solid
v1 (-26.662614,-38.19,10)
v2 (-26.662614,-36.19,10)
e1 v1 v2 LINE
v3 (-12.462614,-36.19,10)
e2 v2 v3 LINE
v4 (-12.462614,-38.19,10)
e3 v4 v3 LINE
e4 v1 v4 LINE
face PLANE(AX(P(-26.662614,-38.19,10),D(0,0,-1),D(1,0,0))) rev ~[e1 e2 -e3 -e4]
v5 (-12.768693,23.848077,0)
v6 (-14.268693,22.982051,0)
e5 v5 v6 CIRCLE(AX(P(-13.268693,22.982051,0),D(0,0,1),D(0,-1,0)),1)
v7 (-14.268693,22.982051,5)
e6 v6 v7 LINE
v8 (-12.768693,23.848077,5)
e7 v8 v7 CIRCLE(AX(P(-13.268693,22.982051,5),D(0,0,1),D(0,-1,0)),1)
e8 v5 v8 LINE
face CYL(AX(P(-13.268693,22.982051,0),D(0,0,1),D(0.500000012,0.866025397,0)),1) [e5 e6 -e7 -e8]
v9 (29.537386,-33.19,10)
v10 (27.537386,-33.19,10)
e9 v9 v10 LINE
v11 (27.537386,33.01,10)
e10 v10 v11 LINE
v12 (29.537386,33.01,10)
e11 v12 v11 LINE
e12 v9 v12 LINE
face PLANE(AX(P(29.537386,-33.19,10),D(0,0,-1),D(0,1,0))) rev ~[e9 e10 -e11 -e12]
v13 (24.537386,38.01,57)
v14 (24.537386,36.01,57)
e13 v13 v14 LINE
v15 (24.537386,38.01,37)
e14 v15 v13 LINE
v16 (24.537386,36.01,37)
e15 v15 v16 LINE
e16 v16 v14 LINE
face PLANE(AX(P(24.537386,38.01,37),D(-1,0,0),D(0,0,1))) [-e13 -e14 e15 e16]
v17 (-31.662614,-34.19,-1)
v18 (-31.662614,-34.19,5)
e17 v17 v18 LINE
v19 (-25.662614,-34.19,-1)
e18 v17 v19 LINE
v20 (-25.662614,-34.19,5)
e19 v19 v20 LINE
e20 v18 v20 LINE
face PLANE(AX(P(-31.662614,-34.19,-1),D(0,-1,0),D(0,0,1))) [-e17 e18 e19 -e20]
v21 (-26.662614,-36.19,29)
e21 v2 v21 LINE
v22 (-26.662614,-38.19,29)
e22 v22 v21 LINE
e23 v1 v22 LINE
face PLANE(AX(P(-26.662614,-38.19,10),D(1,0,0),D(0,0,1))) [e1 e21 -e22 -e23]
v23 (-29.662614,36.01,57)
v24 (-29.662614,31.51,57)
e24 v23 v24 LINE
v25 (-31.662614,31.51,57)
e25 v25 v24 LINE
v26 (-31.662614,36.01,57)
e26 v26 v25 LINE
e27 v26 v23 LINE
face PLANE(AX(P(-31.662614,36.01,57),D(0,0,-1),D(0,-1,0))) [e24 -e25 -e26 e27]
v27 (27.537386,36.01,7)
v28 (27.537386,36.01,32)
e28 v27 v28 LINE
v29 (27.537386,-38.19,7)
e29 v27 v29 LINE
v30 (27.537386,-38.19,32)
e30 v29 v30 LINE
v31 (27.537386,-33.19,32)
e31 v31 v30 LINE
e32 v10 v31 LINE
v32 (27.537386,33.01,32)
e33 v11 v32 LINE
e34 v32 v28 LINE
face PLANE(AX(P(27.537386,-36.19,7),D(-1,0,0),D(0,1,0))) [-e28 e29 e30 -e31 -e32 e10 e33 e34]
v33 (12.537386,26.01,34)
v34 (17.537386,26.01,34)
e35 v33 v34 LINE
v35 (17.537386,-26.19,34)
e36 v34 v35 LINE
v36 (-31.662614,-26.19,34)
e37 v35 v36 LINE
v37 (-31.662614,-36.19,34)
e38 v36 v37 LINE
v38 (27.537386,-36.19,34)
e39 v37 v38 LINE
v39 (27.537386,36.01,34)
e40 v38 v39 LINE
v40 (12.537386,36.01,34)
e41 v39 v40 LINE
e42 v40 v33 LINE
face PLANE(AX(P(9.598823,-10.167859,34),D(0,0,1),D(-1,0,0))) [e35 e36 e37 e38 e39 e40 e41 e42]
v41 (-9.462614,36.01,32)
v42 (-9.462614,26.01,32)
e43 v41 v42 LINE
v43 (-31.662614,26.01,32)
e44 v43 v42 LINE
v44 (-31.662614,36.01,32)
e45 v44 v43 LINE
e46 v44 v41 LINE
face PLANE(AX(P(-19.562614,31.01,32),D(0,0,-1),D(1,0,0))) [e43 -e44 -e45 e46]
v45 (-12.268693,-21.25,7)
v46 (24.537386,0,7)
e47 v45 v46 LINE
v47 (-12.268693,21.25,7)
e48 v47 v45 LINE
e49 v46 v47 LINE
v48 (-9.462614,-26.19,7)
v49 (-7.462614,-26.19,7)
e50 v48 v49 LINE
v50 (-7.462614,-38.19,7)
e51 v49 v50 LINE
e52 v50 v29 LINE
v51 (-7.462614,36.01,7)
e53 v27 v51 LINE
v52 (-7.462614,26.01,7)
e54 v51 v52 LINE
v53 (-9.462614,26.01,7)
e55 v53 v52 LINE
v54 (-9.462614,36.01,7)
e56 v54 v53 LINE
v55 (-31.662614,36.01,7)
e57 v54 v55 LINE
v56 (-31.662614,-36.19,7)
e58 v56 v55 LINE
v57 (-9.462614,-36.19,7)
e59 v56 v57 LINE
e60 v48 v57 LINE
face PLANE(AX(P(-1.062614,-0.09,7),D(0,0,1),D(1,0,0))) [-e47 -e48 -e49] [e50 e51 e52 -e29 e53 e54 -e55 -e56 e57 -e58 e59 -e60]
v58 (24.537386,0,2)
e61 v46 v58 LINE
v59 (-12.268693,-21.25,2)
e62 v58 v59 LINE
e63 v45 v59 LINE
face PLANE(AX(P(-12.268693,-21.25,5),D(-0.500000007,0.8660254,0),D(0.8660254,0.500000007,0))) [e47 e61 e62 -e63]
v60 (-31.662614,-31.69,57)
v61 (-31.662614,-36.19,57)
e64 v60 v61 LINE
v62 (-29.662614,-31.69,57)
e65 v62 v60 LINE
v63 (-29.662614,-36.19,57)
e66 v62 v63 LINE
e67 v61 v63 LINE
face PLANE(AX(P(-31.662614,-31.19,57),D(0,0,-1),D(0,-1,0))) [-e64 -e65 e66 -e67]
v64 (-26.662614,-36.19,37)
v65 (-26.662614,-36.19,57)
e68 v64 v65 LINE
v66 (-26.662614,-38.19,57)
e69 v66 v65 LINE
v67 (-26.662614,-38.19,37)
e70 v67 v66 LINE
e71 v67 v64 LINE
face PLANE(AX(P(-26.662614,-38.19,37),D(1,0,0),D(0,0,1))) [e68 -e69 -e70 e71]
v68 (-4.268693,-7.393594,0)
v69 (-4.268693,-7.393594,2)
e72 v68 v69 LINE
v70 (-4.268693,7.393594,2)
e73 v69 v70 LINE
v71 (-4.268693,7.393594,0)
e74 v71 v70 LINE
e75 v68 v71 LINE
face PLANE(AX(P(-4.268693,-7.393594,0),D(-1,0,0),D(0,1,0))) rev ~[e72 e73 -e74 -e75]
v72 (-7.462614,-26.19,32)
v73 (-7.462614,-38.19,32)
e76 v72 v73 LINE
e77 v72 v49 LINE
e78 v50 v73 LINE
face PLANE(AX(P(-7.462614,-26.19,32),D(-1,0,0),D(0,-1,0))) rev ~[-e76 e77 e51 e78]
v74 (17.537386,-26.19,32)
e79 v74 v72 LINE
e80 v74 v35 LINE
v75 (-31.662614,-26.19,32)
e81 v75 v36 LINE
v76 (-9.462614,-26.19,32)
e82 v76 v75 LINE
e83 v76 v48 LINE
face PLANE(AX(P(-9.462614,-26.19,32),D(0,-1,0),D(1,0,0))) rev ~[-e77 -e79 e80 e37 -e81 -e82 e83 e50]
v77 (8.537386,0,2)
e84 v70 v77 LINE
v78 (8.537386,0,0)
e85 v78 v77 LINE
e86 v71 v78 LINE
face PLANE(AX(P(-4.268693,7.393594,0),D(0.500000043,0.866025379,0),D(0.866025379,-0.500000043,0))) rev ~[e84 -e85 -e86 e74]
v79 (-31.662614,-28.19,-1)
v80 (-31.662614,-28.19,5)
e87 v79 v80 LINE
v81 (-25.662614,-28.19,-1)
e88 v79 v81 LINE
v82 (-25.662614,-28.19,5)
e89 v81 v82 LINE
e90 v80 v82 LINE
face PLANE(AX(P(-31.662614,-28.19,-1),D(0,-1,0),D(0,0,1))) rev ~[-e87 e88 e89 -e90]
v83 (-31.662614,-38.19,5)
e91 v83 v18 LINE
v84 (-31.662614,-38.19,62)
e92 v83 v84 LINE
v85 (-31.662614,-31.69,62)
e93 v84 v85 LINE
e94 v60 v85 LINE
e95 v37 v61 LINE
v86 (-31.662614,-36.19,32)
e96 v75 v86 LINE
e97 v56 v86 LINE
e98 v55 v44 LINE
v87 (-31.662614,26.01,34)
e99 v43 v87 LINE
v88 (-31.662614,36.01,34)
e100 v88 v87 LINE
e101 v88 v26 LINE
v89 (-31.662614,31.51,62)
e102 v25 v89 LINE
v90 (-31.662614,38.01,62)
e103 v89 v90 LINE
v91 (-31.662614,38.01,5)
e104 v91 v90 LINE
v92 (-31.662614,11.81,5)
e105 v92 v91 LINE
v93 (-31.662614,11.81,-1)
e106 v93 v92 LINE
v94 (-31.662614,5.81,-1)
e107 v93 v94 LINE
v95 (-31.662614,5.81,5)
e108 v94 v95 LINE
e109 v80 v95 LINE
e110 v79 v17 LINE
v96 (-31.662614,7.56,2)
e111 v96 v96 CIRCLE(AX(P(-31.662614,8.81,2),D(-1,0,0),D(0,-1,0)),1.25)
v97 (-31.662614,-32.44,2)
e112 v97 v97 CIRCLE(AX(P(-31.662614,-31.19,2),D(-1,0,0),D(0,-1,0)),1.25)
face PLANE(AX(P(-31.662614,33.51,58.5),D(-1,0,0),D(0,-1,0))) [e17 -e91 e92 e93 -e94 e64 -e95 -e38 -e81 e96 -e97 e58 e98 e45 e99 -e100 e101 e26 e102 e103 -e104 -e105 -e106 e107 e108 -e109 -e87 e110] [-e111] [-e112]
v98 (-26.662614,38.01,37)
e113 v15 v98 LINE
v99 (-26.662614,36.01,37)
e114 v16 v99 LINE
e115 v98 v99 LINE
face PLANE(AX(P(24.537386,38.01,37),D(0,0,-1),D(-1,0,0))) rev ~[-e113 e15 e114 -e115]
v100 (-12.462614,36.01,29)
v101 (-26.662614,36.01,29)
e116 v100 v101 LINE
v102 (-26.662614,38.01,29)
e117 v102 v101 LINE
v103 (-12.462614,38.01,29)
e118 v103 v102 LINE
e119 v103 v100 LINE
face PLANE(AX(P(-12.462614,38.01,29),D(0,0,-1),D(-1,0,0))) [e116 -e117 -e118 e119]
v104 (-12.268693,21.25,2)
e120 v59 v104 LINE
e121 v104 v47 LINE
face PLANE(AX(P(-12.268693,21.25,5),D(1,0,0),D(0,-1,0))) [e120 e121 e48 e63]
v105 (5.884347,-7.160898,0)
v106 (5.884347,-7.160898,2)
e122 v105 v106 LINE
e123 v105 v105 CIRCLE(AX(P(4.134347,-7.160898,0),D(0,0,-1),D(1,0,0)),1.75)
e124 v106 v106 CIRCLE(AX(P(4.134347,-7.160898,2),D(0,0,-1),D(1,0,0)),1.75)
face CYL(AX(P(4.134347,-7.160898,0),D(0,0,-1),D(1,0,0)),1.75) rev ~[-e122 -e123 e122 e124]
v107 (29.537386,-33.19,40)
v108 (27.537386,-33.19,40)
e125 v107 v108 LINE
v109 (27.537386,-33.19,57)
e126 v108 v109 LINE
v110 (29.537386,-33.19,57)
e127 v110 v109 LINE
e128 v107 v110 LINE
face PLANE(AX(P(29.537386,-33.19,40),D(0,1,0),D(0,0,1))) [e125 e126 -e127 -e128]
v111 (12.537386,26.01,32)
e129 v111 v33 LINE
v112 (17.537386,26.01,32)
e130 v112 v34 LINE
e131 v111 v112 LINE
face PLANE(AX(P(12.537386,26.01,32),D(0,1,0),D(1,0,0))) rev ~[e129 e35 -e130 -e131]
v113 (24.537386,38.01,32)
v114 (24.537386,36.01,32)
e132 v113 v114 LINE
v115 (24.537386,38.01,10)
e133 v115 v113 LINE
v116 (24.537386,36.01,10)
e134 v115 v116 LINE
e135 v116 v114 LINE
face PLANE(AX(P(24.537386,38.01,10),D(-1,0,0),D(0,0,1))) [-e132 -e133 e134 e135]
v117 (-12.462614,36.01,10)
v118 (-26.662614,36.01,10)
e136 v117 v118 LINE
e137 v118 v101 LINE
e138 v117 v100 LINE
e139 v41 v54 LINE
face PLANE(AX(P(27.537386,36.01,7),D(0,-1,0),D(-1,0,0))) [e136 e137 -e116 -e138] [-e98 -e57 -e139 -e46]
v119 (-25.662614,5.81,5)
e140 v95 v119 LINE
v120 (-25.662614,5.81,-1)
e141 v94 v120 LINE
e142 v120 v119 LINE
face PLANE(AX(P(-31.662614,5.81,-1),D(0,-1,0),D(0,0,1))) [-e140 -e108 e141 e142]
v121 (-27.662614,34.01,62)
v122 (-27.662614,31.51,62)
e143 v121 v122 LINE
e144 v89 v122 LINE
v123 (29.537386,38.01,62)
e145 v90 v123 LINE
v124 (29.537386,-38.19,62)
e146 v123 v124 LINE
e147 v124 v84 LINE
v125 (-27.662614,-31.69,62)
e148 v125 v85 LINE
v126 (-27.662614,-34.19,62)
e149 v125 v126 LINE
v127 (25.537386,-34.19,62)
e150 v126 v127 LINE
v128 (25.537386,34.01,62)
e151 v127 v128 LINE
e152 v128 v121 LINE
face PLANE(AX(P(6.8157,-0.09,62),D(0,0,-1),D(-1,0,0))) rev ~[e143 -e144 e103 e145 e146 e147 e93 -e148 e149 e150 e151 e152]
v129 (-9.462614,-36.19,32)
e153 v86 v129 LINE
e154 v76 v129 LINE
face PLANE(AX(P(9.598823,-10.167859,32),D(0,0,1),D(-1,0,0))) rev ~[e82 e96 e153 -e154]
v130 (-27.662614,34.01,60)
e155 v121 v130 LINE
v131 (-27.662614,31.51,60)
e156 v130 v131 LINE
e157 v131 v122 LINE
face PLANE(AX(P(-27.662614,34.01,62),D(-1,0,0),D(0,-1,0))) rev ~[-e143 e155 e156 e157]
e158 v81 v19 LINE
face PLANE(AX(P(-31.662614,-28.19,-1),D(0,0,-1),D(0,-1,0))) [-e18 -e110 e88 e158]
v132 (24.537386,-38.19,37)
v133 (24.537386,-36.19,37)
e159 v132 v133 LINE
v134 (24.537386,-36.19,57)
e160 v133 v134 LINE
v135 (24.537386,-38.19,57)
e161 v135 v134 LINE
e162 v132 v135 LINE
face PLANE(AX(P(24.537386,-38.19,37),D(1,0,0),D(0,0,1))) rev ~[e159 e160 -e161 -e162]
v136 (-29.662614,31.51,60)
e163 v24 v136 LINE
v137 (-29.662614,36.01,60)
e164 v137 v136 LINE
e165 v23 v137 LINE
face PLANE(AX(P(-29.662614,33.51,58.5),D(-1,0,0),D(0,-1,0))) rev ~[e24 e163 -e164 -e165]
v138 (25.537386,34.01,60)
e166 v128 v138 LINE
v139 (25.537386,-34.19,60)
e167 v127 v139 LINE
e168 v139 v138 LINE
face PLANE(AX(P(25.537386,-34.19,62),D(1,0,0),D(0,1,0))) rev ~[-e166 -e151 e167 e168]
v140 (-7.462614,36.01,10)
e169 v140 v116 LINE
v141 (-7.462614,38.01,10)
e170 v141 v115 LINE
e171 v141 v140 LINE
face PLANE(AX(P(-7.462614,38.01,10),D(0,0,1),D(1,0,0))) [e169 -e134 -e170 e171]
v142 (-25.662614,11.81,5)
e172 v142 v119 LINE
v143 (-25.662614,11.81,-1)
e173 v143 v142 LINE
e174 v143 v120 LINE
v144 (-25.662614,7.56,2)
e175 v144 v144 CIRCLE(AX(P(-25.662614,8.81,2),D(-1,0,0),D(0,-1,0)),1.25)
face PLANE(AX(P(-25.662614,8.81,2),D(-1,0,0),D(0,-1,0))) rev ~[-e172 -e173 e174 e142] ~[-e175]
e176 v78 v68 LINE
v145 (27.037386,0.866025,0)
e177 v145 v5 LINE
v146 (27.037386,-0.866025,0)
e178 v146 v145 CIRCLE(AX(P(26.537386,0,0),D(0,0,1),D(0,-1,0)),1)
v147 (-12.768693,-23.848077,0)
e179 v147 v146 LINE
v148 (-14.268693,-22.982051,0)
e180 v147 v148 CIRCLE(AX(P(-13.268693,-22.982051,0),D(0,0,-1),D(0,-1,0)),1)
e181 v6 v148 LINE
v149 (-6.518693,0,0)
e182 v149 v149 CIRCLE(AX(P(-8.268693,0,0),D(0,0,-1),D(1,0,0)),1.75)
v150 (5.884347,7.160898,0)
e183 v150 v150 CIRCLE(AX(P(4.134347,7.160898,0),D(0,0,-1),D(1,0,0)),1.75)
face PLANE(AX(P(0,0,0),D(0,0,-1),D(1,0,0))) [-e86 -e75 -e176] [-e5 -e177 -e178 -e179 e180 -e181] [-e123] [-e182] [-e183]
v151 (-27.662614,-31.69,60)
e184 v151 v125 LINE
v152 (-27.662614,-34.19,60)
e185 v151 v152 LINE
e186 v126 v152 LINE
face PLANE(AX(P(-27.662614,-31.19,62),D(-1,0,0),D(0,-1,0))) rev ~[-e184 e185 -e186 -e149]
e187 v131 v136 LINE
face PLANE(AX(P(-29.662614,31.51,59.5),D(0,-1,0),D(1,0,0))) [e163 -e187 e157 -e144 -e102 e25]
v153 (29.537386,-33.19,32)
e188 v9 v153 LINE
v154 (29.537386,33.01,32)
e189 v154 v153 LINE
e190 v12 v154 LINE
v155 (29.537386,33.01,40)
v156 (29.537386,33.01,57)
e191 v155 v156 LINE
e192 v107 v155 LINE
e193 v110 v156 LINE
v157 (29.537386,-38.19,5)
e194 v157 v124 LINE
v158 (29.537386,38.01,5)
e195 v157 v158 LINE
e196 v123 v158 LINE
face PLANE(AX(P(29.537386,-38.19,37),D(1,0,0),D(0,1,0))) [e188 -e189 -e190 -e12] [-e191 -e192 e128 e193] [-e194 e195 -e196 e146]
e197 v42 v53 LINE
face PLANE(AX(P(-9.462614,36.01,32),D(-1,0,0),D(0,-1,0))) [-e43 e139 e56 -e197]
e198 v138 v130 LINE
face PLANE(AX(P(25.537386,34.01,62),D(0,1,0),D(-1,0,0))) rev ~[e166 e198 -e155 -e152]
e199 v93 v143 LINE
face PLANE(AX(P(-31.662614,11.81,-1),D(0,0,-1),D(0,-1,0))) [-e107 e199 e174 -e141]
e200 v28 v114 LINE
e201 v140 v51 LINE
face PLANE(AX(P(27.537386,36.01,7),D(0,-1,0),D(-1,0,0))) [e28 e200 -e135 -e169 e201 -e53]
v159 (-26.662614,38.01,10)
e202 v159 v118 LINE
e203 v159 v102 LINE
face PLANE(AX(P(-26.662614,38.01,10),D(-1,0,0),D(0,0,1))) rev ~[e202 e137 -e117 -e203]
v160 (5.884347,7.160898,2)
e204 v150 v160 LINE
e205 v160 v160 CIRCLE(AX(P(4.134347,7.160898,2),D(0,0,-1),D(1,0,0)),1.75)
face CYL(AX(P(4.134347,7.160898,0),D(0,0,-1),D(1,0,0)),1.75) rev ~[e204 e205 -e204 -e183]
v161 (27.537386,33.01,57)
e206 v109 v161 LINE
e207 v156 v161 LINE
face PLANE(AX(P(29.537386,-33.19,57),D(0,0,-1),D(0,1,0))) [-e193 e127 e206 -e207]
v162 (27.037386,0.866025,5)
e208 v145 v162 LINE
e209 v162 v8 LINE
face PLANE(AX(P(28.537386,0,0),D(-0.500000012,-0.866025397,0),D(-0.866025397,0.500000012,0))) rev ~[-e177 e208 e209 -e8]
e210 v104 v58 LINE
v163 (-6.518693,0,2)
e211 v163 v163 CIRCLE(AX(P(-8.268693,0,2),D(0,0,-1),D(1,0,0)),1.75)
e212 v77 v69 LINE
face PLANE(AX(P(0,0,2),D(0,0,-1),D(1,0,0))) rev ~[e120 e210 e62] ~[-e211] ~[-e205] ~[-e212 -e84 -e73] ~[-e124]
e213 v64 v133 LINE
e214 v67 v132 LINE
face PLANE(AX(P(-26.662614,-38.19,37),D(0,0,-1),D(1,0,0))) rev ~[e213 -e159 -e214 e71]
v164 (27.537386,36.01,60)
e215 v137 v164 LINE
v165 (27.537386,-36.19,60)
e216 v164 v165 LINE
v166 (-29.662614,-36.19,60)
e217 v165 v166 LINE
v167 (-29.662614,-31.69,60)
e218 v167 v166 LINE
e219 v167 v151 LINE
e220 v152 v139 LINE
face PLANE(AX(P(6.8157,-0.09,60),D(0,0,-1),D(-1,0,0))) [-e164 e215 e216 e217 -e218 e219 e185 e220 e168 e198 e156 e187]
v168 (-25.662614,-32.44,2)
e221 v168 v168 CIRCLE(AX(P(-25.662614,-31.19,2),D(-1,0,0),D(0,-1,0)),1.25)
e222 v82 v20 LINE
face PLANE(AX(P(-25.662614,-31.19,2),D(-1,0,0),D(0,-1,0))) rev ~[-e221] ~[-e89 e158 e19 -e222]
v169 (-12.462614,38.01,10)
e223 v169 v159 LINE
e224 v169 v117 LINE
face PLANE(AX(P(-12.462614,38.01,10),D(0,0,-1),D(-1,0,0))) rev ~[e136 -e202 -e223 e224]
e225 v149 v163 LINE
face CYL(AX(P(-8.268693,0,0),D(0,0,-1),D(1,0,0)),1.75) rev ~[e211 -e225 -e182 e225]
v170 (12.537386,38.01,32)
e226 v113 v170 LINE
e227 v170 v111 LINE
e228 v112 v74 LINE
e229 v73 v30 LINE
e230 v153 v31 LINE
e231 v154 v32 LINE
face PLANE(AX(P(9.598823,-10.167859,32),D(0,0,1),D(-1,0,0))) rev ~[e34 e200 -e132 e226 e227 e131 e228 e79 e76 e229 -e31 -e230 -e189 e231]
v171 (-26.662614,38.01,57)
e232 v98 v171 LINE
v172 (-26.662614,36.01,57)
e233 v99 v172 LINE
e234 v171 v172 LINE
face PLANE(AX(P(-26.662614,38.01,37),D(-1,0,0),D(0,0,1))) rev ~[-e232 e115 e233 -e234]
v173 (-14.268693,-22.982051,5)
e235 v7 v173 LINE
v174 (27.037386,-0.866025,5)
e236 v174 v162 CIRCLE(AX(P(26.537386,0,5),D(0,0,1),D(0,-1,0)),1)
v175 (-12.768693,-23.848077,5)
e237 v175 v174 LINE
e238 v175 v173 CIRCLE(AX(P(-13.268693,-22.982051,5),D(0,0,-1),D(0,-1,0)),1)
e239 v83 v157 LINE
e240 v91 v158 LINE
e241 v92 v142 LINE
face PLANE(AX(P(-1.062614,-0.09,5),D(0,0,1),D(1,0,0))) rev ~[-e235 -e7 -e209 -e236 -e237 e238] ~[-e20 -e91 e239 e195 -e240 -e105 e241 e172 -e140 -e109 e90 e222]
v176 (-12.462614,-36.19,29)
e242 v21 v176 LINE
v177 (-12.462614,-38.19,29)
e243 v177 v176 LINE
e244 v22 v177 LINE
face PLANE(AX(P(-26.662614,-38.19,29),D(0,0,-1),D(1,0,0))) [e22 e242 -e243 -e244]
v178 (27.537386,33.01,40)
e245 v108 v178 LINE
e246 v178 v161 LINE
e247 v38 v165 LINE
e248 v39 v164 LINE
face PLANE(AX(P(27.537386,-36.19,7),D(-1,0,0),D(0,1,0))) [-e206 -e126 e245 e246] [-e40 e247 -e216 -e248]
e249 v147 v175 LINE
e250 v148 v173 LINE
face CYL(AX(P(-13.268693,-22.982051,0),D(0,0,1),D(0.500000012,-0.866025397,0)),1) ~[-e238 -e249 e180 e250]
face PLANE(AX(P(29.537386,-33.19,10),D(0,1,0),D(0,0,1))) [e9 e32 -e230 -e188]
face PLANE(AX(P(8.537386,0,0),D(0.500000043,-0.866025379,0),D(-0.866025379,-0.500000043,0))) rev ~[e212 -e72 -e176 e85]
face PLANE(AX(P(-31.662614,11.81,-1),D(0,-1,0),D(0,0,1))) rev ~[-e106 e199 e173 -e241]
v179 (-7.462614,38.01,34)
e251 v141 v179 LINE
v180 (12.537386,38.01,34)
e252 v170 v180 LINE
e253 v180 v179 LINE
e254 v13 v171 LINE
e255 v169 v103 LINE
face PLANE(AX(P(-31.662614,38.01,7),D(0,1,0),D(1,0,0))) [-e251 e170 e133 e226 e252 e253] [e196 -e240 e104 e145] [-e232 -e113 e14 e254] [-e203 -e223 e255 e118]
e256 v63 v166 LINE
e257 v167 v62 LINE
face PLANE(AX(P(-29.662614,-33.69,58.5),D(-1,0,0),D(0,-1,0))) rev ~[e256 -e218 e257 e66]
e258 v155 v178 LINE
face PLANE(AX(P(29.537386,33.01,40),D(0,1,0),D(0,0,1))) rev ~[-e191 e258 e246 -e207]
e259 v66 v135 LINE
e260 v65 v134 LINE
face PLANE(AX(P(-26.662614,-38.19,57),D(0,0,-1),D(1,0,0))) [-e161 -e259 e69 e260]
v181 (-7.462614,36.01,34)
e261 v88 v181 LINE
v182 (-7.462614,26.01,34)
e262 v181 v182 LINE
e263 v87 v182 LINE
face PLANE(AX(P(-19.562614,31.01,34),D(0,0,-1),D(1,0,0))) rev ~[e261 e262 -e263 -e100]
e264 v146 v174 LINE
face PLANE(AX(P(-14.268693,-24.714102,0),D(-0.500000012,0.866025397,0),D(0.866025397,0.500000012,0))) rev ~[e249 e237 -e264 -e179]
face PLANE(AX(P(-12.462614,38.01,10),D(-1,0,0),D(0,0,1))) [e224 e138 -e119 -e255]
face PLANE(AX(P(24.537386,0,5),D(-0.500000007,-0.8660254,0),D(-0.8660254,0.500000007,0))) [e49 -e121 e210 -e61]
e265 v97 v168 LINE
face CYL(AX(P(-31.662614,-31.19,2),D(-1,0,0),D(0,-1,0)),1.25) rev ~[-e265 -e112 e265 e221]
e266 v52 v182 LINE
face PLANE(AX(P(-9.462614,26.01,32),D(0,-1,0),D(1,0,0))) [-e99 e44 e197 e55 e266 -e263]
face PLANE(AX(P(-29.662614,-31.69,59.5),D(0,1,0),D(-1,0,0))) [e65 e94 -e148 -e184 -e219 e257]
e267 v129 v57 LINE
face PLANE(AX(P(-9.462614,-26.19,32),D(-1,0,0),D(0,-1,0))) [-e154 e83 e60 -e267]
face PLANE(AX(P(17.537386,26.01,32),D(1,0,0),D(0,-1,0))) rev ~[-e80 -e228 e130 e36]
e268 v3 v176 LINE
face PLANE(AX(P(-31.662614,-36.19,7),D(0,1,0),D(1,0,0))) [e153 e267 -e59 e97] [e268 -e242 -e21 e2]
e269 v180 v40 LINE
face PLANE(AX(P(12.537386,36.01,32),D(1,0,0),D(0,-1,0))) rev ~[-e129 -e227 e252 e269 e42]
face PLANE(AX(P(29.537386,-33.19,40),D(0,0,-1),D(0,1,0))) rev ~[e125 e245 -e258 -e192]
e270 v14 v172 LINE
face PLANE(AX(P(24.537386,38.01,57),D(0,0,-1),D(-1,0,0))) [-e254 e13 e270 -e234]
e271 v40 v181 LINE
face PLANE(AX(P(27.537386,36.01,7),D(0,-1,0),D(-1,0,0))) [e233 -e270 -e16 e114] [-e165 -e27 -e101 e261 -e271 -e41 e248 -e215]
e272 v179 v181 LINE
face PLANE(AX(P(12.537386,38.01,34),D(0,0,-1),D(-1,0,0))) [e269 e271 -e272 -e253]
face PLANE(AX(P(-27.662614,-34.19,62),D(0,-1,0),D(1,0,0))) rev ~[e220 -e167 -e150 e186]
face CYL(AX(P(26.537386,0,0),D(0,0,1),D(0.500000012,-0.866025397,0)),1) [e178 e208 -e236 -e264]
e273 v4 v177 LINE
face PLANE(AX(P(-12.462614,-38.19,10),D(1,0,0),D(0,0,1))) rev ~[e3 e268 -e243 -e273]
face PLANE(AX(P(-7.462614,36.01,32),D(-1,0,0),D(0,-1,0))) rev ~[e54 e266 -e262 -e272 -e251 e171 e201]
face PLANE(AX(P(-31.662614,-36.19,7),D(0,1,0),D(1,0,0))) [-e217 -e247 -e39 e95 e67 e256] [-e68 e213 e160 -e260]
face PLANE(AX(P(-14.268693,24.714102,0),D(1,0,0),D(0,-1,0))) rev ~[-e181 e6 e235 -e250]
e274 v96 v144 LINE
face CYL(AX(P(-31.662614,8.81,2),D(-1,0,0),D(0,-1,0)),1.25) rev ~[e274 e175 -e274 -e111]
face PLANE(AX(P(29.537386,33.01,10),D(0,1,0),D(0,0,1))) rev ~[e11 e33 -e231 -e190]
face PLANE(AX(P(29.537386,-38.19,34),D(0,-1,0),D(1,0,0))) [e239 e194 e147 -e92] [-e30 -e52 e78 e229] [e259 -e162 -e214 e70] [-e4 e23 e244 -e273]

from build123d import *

# Parameters (mm, degrees)
PAD_DEPTH       = 5
FILLET_R        = 1
FILLET001_R     = 1
FILLET002_R     = 1
SKETCH001_R     = 1.75
PAD001_DEPTH    = 2
SKETCH002_W     = 61.2
SKETCH002_H     = 76.2
PAD002_DEPTH    = 2
PAD003_DEPTH    = 55
SKETCH004_W     = 35
SKETCH004_H     = 25
SKETCH004_W_2   = 14.2
SKETCH004_H_2   = 19
SKETCH004_W_3   = 51.2
SKETCH004_H_3   = 20
POCKET_DEPTH    = 2
SKETCH005_W     = 14.2
SKETCH005_H     = 19
SKETCH005_W_2   = 51.2
SKETCH005_H_2   = 20
POCKET001_DEPTH = 2
SKETCH006_W     = 66.2
SKETCH006_H     = 22
SKETCH006_H_2   = 17
POCKET002_DEPTH = 2
SKETCH007_W     = 24.2
SKETCH007_H     = 10
SKETCH007_W_2   = 31.5
SKETCH007_H_2   = 12
SKETCH007_R     = 1.25
PAD004_DEPTH    = 2
SKETCH008_W     = 31.5
SKETCH008_H     = 2
PAD005_DEPTH    = 3
PAD006_DEPTH    = 2
SKETCH010_W     = 5
SKETCH010_H     = 3
PAD007_DEPTH    = 2
SKETCH011_W     = 6
SKETCH011_H     = 6
SKETCH011_R     = 1.25
PAD008_DEPTH    = 6
SKETCH012_W     = 2
SKETCH012_H     = 10
PAD009_DEPTH    = 25
SKETCH013_W     = 31.5
SKETCH013_H     = 76.2
POCKET003_DEPTH = 6
SKETCH014_W     = 4
SKETCH014_H     = 5
POCKET004_DEPTH = 0.5
SKETCH015_W     = 4
SKETCH015_H     = 5
POCKET005_DEPTH = 0.5


with BuildPart() as part:
    # Sketch → Pad (new body)
    with BuildSketch(Plane.XY):
        Polygon((28.537386, 0), (-14.268693, 24.714102), (-14.268693, -24.714102), align=None)
        Polygon((24.537386, 0), (-12.268693, 21.25), (-12.268693, -21.25), align=None, mode=Mode.SUBTRACT)
    extrude(amount=PAD_DEPTH)

    # Fillet
    fillet_edges = [part.edges().sort_by_distance(p)[0] for p in [
        (-14.268693, -24.714102, 2.5),
    ]]
    fillet(fillet_edges, radius=FILLET_R)

    # Fillet001
    fillet001_edges = [part.edges().sort_by_distance(p)[0] for p in [
        (28.537386, 0, 2.5),
    ]]
    fillet(fillet001_edges, radius=FILLET001_R)

    # Fillet002
    fillet002_edges = [part.edges().sort_by_distance(p)[0] for p in [
        (-14.268693, 24.714102, 2.5),
    ]]
    fillet(fillet002_edges, radius=FILLET002_R)

    # Sketch001 (on Face1 of Fillet002) → Pad001 (join)
    with BuildSketch(Plane(origin=(0, 0, 0), x_dir=(1, 0, 0), z_dir=(0, 0, -1))):
        Polygon((24.537386, 0), (-12.268693, 21.25), (-12.268693, -21.25), align=None)
        with Locations((4.134347, 7.160898)):
            Circle(SKETCH001_R, mode=Mode.SUBTRACT)
        with Locations((4.134347, -7.160898)):
            Circle(SKETCH001_R, mode=Mode.SUBTRACT)
        with Locations((-8.268693, 0)):
            Circle(SKETCH001_R, mode=Mode.SUBTRACT)
        Polygon((8.537386, 0), (-4.268693, 7.393594), (-4.268693, -7.393594), align=None, mode=Mode.SUBTRACT)
    extrude(amount=-PAD001_DEPTH)

    # Sketch002 (on Face9 of Pad001) → Pad002 (join)
    with BuildSketch(Plane.XY.offset(5)):
        with Locations((-1.062614, -0.09)):
            Rectangle(SKETCH002_W, SKETCH002_H)
        Polygon((-12.268693, 21.25), (-12.268693, -21.25), (24.537386, 0), align=None, mode=Mode.SUBTRACT)
    extrude(amount=PAD002_DEPTH)

    # Sketch003 (on Face21 of Pad002) → Pad003 (join)
    with BuildSketch(Plane.XY.offset(7)):
        Polygon((-31.662614, 38.01), (29.537386, 38.01), (29.537386, -38.19), (-31.662614, -38.19), (-31.662614, -36.19), (27.537386, -36.19), (27.537386, 36.01), (-31.662614, 36.01), align=None)
    extrude(amount=PAD003_DEPTH)

    # Sketch004 (on Face26 of Pad003) → Pocket (cut)
    with BuildSketch(Plane.XZ.offset(38.19)):
        with Locations((10.037386, 19.5)):
            Rectangle(SKETCH004_W, SKETCH004_H)
        with Locations((-19.562614, 19.5)):
            Rectangle(SKETCH004_W_2, SKETCH004_H_2)
        with Locations((-1.062614, 47)):
            Rectangle(SKETCH004_W_3, SKETCH004_H_3)
    extrude(amount=-POCKET_DEPTH, mode=Mode.SUBTRACT)

    # Sketch005 (on Face21 of Pocket) → Pocket001 (cut)
    with BuildSketch(Plane(origin=(0, 38.01, 0), x_dir=(-1, 0, 0), z_dir=(0, 1, 0))):
        Polygon((-24.537386, 32), (-12.537386, 32), (-12.537386, 34), (7.462614, 34), (7.462614, 32), (7.462614, 10), (-24.537386, 10), align=None)
        with Locations((19.562614, 19.5)):
            Rectangle(SKETCH005_W, SKETCH005_H)
        with Locations((1.062614, 47)):
            Rectangle(SKETCH005_W_2, SKETCH005_H_2)
    extrude(amount=-POCKET001_DEPTH, mode=Mode.SUBTRACT)

    # Sketch006 (on Face25 of Pocket001) → Pocket002 (cut)
    with BuildSketch(Plane.YZ.offset(29.537386)):
        with Locations((-0.09, 21)):
            Rectangle(SKETCH006_W, SKETCH006_H)
        with Locations((-0.09, 48.5)):
            Rectangle(SKETCH006_W, SKETCH006_H_2)
    extrude(amount=-POCKET002_DEPTH, mode=Mode.SUBTRACT)

    # Sketch007 (on Face62 of Pocket002) → Pad004 (join)
    with BuildSketch(Plane(origin=(0, 0, 32), x_dir=(1, 0, 0), z_dir=(0, 0, -1))):
        Polygon((-31.662614, 36.19), (27.537386, 36.19), (27.537386, -36.01), (12.537386, -36.01), (12.537386, -26.01), (17.537386, -26.01), (17.537386, 26.19), (-31.662614, 26.19), align=None)
        with Locations((-19.562614, -31.01)):
            Rectangle(SKETCH007_W, SKETCH007_H)
        with Locations((45.287386, -32.01)):
            Rectangle(SKETCH007_W_2, SKETCH007_H_2)
        with Locations((58.037386, -32.91)):
            Circle(SKETCH007_R, mode=Mode.SUBTRACT)
        with Locations((32.037386, -32.91)):
            Circle(SKETCH007_R, mode=Mode.SUBTRACT)
        with Locations((45.287386, 32.19)):
            Rectangle(SKETCH007_W_2, SKETCH007_H_2)
        with Locations((32.037386, 33.09)):
            Circle(SKETCH007_R, mode=Mode.SUBTRACT)
        with Locations((58.037386, 33.09)):
            Circle(SKETCH007_R, mode=Mode.SUBTRACT)
    extrude(amount=-PAD004_DEPTH)

    # Sketch008 (on Face78 of Pad004) → Pad005 (join, symmetric)
    with BuildSketch(Plane.XY.offset(34)):
        with Locations((45.287386, 37.01)):
            Rectangle(SKETCH008_W, SKETCH008_H)
        with Locations((45.287386, -37.19)):
            Rectangle(SKETCH008_W, SKETCH008_H)
    extrude(amount=PAD005_DEPTH, both=True)

    # Sketch009 (on Face31 of Pad005) → Pad006 (join)
    with BuildSketch(Plane.XY.offset(62)):
        Polygon((-31.662614, 36.01), (27.537386, 36.01), (27.537386, -36.19), (-31.662614, -36.19), (-31.662614, -34.19), (-31.662614, -31.19), (-27.662614, -31.19), (-27.662614, -34.19), (25.537386, -34.19), (25.537386, 34.01), (-27.662614, 34.01), (-27.662614, 31.01), (-31.662614, 31.01), (-31.662614, 34.01), align=None)
    extrude(amount=-PAD006_DEPTH)

    # Sketch010 (on Face24 of Pad006) → Pad007 (join)
    with BuildSketch(Plane(origin=(-31.662614, 0, 0), x_dir=(0, -1, 0), z_dir=(-1, 0, 0))):
        with Locations((-33.51, 58.5)):
            Rectangle(SKETCH010_W, SKETCH010_H)
        with Locations((33.69, 58.5)):
            Rectangle(SKETCH010_W, SKETCH010_H)
    extrude(amount=-PAD007_DEPTH)

    # Sketch011 (on Face17 of Pad007) → Pad008 (join)
    with BuildSketch(Plane(origin=(-31.662614, 0, 0), x_dir=(0, -1, 0), z_dir=(-1, 0, 0))):
        with Locations((31.19, 2)):
            Rectangle(SKETCH011_W, SKETCH011_H)
        with Locations((31.19, 2)):
            Circle(SKETCH011_R, mode=Mode.SUBTRACT)
        with Locations((-8.81, 2)):
            Rectangle(SKETCH011_W, SKETCH011_H)
        with Locations((-8.81, 2)):
            Circle(SKETCH011_R, mode=Mode.SUBTRACT)
    extrude(amount=-PAD008_DEPTH)

    # Sketch012 (on Face119 of Pad008) → Pad009 (join)
    with BuildSketch(Plane(origin=(0, 0, 32), x_dir=(1, 0, 0), z_dir=(0, 0, -1))):
        with Locations((-8.462614, 31.19)):
            Rectangle(SKETCH012_W, SKETCH012_H)
        with Locations((-8.462614, -31.01)):
            Rectangle(SKETCH012_W, SKETCH012_H)
    extrude(amount=PAD009_DEPTH)

    # Sketch013 (on Face117 of Pad009) → Pocket003 (cut)
    with BuildSketch(Plane.XY.offset(37)):
        with Locations((45.287386, -0.09)):
            Rectangle(SKETCH013_W, SKETCH013_H)
    extrude(amount=-POCKET003_DEPTH, mode=Mode.SUBTRACT)

    # Sketch014 (on Face126 of Pocket003) → Pocket004 (cut)
    with BuildSketch(Plane.XZ.offset(-31.01)):
        with Locations((-29.662614, 59.5)):
            Rectangle(SKETCH014_W, SKETCH014_H)
    extrude(amount=-POCKET004_DEPTH, mode=Mode.SUBTRACT)

    # Sketch015 (on Face126 of Pocket004) → Pocket005 (cut)
    with BuildSketch(Plane(origin=(0, -31.19, 0), x_dir=(-1, 0, 0), z_dir=(0, 1, 0))):
        with Locations((29.662614, 59.5)):
            Rectangle(SKETCH015_W, SKETCH015_H)
    extrude(amount=-POCKET005_DEPTH, mode=Mode.SUBTRACT)


solid = part.part
